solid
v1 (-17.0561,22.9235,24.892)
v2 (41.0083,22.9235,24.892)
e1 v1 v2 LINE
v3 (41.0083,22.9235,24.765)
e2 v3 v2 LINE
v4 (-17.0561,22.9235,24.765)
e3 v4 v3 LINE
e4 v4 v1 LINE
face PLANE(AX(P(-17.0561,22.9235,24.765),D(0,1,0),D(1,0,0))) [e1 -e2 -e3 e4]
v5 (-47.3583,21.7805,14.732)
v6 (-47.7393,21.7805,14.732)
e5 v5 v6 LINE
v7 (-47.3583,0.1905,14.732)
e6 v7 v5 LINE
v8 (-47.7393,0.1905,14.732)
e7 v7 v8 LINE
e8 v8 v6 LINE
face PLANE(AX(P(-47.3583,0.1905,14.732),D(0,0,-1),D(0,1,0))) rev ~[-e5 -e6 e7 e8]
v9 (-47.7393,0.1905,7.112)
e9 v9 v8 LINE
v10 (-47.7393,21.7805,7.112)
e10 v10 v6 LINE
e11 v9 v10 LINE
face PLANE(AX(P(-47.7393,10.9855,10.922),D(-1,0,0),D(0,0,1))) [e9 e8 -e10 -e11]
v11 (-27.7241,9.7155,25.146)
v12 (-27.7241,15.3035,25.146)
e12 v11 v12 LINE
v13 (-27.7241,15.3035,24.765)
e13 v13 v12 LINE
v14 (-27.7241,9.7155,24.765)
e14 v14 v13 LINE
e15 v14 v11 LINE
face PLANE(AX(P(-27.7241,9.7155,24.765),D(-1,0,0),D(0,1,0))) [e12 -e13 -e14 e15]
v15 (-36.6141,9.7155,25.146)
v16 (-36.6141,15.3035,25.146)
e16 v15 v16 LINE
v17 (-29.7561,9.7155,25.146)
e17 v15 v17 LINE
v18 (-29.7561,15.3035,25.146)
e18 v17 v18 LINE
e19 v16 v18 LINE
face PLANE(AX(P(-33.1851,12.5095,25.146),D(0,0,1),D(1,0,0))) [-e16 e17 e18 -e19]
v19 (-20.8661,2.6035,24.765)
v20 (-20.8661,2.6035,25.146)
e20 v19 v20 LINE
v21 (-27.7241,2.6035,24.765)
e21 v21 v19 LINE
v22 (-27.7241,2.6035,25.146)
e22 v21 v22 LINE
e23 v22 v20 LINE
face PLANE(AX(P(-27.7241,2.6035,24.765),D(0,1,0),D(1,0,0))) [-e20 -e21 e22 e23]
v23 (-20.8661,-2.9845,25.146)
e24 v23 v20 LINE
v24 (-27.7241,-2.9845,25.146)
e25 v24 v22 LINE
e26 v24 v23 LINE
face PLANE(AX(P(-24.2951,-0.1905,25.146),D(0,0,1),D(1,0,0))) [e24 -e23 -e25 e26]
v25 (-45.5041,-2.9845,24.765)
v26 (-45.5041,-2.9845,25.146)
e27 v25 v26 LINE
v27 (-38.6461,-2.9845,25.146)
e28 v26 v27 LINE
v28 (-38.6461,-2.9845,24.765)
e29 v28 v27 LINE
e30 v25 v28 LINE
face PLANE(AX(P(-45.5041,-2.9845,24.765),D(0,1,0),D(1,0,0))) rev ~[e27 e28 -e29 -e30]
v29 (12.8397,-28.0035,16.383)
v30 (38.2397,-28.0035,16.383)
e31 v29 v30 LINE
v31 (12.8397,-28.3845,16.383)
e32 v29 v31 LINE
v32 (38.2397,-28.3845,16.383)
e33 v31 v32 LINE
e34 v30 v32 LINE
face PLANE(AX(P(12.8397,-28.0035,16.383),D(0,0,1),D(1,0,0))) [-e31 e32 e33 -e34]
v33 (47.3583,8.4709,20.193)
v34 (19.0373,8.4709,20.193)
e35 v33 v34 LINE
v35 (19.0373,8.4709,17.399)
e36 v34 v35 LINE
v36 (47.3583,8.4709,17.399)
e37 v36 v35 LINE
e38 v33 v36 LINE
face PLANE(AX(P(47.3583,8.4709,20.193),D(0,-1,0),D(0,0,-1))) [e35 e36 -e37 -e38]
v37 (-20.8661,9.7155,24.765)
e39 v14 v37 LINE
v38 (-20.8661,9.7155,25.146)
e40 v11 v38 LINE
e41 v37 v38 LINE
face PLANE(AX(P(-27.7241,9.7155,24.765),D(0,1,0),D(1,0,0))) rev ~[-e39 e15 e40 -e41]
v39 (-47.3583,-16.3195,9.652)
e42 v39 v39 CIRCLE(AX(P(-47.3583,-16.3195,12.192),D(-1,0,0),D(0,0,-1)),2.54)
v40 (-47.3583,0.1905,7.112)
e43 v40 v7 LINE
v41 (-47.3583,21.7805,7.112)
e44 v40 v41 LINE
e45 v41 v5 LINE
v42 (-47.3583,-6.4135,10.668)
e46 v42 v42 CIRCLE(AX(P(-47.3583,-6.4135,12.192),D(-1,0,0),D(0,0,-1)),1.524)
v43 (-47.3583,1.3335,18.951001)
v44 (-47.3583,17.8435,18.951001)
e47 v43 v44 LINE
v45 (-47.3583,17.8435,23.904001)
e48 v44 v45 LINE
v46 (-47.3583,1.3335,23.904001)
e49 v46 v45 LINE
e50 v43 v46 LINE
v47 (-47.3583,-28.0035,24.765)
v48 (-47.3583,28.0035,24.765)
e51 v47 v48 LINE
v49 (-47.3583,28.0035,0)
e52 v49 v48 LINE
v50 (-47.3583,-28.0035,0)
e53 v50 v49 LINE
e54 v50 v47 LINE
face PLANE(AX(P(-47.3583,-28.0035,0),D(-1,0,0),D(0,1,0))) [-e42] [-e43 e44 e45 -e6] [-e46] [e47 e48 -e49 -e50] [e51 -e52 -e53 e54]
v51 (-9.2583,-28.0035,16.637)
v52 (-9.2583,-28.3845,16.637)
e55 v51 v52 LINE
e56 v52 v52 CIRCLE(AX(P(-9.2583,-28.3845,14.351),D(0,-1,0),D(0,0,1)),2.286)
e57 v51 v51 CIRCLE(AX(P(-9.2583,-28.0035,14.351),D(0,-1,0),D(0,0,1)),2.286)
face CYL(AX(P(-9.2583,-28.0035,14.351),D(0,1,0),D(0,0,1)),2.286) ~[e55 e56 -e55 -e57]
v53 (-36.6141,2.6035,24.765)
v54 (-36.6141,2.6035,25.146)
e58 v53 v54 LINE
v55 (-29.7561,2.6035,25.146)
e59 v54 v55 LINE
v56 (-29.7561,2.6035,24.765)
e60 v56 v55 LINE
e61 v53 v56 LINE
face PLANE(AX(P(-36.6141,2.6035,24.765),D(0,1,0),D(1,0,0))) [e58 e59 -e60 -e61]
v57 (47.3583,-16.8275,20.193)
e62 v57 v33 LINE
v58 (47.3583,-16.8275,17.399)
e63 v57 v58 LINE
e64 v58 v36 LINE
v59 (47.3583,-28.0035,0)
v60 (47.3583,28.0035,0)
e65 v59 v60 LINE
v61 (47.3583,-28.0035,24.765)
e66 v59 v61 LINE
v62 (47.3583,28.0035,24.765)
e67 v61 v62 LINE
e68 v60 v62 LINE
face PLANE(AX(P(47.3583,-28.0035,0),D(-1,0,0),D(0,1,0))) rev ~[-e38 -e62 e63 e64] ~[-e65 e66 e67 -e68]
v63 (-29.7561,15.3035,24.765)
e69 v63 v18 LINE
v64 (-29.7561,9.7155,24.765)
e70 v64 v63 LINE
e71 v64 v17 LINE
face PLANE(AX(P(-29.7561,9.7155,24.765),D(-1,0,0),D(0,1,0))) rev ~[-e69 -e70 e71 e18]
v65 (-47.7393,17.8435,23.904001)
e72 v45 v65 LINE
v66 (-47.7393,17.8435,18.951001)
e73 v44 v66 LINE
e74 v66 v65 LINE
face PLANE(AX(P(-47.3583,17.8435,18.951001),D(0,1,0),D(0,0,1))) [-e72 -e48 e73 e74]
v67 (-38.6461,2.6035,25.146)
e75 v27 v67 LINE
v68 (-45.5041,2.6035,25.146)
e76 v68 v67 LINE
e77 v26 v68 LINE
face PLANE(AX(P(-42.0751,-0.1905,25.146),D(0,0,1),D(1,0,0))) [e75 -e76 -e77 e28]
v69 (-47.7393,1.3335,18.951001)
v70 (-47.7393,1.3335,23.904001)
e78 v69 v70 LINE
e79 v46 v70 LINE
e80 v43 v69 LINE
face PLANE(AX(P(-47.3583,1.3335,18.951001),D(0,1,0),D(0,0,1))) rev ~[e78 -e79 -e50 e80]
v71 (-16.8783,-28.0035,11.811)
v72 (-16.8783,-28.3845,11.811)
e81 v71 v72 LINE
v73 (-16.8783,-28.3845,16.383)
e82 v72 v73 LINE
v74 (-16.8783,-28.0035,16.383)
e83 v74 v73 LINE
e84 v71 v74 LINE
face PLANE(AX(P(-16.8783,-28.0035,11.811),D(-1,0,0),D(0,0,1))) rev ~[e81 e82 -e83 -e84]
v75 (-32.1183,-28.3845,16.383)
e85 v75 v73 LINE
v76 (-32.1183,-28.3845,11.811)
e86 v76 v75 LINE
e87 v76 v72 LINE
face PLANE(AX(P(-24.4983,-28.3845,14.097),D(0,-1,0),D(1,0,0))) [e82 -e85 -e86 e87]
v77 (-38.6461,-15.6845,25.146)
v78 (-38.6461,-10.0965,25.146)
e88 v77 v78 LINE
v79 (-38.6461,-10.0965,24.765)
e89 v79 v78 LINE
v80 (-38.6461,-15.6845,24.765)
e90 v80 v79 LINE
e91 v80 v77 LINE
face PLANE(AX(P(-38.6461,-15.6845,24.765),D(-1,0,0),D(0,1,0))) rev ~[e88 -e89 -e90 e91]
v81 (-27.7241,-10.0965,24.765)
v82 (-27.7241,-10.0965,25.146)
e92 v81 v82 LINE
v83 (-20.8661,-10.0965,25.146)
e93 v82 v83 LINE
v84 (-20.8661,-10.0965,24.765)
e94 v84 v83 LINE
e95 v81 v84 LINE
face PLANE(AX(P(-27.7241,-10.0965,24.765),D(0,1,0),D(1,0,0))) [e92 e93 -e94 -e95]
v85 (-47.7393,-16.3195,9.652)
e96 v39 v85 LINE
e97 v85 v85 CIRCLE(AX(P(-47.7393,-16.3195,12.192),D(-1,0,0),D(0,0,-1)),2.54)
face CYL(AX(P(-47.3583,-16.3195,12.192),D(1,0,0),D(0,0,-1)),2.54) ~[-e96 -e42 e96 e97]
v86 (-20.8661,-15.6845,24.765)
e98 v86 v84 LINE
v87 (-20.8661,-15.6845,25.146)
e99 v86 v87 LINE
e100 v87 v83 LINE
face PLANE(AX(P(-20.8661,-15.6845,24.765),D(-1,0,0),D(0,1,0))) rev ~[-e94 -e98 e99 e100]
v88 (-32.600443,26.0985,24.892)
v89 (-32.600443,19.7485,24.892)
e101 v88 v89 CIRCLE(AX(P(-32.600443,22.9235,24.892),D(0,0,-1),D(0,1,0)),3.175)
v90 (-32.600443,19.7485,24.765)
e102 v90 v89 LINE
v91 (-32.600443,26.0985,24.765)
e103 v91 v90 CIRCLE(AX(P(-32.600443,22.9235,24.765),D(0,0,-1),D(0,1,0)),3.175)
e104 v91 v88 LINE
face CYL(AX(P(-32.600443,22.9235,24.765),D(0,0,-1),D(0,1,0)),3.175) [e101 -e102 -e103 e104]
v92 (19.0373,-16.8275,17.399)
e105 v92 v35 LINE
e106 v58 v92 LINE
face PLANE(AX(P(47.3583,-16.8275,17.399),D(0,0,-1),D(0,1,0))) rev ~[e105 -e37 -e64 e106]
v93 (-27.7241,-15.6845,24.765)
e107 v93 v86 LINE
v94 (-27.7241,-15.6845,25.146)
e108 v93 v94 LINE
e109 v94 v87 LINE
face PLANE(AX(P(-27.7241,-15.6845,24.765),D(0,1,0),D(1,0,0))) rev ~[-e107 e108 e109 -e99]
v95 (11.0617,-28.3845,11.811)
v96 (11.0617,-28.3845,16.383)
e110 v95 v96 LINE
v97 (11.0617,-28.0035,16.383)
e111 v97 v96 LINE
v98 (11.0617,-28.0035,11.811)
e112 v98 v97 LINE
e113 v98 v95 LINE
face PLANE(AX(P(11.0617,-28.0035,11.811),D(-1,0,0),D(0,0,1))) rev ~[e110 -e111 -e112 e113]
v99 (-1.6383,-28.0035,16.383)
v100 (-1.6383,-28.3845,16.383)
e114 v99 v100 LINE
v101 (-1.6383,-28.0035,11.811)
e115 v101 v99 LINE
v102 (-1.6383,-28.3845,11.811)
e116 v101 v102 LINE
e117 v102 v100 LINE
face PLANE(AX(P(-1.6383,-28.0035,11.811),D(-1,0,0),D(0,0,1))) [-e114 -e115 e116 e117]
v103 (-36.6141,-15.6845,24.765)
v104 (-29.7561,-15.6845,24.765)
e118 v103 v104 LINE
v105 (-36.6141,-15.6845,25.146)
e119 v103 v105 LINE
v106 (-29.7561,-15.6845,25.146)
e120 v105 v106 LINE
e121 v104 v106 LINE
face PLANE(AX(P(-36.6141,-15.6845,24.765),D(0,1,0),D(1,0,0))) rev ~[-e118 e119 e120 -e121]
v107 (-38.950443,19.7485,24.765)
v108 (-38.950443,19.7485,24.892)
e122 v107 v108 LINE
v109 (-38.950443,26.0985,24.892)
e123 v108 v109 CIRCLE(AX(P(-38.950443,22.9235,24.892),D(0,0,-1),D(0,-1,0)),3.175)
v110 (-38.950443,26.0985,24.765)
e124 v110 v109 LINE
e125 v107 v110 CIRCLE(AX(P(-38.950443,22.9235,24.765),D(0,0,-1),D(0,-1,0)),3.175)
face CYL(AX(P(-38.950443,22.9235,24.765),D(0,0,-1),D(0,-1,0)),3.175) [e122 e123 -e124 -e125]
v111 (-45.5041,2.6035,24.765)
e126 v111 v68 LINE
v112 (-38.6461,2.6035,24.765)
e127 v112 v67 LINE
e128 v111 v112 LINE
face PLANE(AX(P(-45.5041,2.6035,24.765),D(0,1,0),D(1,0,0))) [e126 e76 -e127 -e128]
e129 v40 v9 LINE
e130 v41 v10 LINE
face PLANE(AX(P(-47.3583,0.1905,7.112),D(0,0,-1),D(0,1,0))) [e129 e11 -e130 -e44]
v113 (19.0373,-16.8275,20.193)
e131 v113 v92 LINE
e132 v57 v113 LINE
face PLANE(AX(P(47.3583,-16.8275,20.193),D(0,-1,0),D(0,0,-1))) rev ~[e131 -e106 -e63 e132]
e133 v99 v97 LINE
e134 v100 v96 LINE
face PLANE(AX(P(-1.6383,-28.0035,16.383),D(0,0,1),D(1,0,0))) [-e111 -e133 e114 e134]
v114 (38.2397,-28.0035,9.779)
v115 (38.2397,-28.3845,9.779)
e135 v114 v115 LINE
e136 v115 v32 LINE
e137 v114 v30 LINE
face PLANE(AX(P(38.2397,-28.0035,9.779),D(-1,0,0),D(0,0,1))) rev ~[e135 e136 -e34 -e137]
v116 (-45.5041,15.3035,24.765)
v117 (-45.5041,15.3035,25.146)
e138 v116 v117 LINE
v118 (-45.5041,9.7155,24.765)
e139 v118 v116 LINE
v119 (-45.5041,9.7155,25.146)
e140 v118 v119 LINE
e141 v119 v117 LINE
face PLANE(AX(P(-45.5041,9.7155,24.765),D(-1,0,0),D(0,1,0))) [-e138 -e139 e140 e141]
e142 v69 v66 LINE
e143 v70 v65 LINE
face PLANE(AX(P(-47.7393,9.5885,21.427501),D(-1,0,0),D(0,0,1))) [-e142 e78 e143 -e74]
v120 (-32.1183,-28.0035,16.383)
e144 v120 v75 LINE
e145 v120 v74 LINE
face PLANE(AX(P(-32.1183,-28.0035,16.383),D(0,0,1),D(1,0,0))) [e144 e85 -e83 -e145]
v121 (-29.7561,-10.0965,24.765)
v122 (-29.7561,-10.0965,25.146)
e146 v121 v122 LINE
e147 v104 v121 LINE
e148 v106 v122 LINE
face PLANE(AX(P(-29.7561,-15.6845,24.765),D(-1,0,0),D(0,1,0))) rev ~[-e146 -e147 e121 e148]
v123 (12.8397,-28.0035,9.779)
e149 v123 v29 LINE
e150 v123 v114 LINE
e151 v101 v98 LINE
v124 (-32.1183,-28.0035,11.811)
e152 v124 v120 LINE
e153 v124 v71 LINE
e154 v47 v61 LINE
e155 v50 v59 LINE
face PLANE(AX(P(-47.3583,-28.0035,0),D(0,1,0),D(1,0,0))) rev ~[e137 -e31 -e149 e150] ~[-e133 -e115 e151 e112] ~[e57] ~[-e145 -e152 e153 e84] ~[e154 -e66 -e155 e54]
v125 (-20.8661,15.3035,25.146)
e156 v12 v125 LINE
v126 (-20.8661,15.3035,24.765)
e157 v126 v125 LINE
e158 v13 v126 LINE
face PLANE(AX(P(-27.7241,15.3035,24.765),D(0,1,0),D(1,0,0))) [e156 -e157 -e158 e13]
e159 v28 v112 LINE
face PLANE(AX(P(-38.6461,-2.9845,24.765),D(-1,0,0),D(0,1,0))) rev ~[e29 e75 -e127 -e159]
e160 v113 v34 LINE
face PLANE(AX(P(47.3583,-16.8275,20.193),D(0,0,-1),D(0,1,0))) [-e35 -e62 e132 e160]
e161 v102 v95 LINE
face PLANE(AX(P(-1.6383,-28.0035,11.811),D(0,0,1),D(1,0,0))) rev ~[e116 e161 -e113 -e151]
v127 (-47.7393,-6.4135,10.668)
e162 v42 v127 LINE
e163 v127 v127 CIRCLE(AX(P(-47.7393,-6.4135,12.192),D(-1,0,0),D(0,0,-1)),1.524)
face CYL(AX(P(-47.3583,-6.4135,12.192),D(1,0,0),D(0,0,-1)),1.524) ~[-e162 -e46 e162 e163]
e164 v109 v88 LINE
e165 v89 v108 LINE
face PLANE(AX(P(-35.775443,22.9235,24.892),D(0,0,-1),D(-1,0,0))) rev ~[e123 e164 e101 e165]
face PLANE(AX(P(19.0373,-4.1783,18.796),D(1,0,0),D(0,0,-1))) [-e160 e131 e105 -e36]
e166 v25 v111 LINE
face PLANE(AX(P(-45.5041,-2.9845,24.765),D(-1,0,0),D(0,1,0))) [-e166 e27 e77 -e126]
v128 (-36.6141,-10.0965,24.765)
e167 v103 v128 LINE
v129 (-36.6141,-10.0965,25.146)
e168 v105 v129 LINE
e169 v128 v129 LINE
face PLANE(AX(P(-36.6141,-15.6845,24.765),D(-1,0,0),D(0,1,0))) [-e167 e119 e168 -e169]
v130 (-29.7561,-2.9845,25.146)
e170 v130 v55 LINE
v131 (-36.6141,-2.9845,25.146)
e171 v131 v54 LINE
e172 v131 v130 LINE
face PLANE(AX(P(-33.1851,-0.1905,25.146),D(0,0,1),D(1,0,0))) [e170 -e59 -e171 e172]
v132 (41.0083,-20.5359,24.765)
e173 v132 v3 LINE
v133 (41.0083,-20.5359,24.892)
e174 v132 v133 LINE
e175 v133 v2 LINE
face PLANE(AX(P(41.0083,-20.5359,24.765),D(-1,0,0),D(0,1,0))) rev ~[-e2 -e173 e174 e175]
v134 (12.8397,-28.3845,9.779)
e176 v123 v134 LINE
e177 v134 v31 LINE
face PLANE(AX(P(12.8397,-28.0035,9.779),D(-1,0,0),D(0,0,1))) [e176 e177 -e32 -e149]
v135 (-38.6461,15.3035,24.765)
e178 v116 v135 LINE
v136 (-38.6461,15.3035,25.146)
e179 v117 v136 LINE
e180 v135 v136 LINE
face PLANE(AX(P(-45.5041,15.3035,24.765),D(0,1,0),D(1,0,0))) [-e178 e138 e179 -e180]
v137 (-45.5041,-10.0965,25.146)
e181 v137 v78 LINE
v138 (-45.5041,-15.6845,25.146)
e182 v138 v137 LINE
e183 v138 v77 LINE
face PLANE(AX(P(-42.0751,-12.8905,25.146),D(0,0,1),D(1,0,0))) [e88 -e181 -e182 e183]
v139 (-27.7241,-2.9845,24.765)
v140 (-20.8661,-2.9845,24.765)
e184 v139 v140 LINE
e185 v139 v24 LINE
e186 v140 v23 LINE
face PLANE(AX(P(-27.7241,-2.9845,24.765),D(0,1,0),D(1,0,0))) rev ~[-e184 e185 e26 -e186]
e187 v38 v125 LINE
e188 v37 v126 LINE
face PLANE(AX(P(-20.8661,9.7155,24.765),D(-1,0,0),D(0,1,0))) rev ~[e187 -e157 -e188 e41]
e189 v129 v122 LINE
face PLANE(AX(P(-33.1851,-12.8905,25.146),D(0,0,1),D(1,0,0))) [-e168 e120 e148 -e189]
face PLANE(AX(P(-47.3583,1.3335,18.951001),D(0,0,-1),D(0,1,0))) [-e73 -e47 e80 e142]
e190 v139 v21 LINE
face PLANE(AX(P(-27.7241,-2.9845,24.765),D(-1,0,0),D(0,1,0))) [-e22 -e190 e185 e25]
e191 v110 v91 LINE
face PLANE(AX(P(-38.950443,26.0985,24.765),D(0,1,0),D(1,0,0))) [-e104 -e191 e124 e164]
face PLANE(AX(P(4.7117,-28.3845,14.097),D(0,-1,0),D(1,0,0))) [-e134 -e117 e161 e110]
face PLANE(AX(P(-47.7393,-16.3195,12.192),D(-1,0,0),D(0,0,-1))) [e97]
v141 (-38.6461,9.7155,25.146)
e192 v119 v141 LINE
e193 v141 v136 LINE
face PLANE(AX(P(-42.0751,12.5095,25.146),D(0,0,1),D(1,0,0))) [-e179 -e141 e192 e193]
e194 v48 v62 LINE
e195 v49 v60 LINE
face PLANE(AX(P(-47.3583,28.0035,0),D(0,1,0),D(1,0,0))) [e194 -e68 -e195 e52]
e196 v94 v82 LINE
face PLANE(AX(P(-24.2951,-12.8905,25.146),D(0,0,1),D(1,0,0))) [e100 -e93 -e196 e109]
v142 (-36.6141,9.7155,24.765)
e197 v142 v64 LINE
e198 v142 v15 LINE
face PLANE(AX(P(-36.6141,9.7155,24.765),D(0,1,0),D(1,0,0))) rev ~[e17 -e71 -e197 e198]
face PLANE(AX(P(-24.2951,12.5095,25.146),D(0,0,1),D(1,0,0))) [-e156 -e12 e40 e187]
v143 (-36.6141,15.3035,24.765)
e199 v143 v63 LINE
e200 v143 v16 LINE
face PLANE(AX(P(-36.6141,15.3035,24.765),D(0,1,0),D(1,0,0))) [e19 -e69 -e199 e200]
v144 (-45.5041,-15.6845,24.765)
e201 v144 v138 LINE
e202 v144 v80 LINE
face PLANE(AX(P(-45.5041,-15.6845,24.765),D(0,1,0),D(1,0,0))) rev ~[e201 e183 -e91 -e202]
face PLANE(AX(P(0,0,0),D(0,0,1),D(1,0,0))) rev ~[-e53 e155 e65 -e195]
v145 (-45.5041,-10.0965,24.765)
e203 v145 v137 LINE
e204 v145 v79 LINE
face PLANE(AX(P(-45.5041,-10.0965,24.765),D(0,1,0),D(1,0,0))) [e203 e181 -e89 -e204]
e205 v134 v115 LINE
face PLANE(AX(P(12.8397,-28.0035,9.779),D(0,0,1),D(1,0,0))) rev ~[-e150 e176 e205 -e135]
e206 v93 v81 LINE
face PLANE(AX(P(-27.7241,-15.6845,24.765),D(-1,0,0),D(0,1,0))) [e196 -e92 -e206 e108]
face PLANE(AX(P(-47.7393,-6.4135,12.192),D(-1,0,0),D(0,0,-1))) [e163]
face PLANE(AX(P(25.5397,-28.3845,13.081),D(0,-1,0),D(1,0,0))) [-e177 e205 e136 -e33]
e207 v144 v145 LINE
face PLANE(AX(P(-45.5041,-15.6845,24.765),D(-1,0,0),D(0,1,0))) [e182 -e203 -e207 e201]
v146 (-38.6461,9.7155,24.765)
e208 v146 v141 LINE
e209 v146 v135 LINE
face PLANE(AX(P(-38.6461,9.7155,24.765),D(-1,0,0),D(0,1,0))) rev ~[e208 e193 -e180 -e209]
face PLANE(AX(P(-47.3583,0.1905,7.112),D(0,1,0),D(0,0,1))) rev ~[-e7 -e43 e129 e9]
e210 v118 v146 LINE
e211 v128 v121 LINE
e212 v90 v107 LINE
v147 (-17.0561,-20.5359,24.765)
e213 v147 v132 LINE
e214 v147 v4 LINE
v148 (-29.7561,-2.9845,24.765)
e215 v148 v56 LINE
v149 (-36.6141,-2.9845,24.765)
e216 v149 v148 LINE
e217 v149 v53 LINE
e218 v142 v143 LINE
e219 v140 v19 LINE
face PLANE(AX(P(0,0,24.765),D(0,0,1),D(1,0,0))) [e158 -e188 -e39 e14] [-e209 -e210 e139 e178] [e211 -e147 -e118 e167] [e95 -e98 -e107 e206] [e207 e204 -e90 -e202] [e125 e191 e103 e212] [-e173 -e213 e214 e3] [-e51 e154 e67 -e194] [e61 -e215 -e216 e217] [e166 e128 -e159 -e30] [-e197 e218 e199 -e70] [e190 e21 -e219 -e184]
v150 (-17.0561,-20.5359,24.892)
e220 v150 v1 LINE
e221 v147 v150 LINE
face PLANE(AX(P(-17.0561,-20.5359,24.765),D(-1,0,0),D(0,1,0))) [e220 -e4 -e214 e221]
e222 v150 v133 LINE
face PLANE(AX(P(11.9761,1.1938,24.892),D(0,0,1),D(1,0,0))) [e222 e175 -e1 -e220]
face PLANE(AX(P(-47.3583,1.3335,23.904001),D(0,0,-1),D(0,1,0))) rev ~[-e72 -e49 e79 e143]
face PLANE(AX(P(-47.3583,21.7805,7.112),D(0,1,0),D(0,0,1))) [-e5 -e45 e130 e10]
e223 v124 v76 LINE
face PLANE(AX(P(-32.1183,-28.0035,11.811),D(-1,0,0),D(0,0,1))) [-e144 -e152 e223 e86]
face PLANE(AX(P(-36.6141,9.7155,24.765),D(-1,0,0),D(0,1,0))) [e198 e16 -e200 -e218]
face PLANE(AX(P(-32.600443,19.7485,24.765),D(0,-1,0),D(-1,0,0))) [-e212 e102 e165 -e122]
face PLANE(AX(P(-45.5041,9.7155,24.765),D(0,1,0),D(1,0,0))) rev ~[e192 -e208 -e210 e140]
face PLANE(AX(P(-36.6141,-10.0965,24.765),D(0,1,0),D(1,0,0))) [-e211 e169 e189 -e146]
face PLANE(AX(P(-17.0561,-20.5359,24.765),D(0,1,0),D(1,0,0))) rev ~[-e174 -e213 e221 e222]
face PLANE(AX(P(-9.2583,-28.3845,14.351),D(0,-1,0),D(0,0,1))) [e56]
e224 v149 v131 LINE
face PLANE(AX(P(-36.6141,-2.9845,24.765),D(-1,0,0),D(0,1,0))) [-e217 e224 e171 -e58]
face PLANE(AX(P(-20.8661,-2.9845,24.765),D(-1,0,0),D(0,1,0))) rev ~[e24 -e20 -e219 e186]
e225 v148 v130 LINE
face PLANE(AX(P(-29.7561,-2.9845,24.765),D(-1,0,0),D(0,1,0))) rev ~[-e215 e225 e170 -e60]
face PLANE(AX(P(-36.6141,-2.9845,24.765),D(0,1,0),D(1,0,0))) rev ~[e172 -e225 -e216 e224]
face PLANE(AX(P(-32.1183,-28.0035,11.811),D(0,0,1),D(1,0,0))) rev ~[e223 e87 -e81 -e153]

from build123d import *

# Parameters (mm, degrees)
SKETCH1_W                 = 94.7166
SKETCH1_H                 = 56.007
EXTRUDE1_DEPTH            = 24.765
SKETCH2_W                 = 58.0644
SKETCH2_H                 = 43.4594
EXTRUDE2_DEPTH            = 0.127
SKETCH3_W                 = 6.858
SKETCH3_H                 = 5.588
EXTRUDE3_DEPTH            = 0.381
LPATTERN1_COUNT           = 3
LPATTERN1_PITCH           = 8.89
LPATTERN2_COUNT           = 3
LPATTERN2_PITCH           = 12.7
LPATTERN2_COPY_1_SKETCH_W = 6.858
LPATTERN2_COPY_1_SKETCH_H = 5.588
LPATTERN2_COPY_1_DEPTH    = 0.381
LPATTERN2_COPY_2_SKETCH_W = 6.858
LPATTERN2_COPY_2_SKETCH_H = 5.588
LPATTERN2_COPY_2_DEPTH    = 0.381
LPATTERN2_COPY_3_SKETCH_W = 6.858
LPATTERN2_COPY_3_SKETCH_H = 5.588
LPATTERN2_COPY_3_DEPTH    = 0.381
LPATTERN2_COPY_4_SKETCH_W = 6.858
LPATTERN2_COPY_4_SKETCH_H = 5.588
LPATTERN2_COPY_4_DEPTH    = 0.381
SKETCH4_R                 = 1.524
SKETCH4_R_2               = 2.54
SKETCH4_W                 = 4.953
SKETCH4_H                 = 16.51
SKETCH4_W_2               = 7.62
SKETCH4_H_2               = 21.59
EXTRUDE4_DEPTH            = 0.381
SKETCH5_R                 = 2.286
SKETCH5_W                 = 15.24
SKETCH5_H                 = 4.572
SKETCH5_W_2               = 12.7
SKETCH5_W_3               = 25.4
SKETCH5_H_2               = 6.604
EXTRUDE5_DEPTH            = 0.381
SKETCH6_W                 = 2.794
SKETCH6_H                 = 25.2984
EXTRUDE6_DEPTH            = 28.321


with BuildPart() as part:
    # Sketch1 → Extrude1 (new body)
    with BuildSketch(Plane.XY):
        Rectangle(SKETCH1_W, SKETCH1_H)
    extrude(amount=EXTRUDE1_DEPTH)

    # Sketch2 → Extrude2 (add)
    with BuildSketch(Plane.XY.offset(24.765)):
        with Locations((11.9761, 1.1938)):
            Rectangle(SKETCH2_W, SKETCH2_H)
        with BuildLine():
            Line((-38.950442947, 26.0985), (-32.600442947, 26.0985))
            ThreePointArc((-32.600442947, 26.0985), (-29.425442947, 22.9235), (-32.600442947, 19.7485))
            Line((-32.600442947, 19.7485), (-38.950442947, 19.7485))
            ThreePointArc((-38.950442947, 19.7485), (-42.125442947, 22.9235), (-38.950442947, 26.0985))
        make_face()
    extrude(amount=EXTRUDE2_DEPTH)

    # Sketch3 → Extrude3 (add)
    with BuildSketch(Plane.XY.offset(24.765)):
        with Locations((-24.2951, 12.5095)):
            Rectangle(SKETCH3_W, SKETCH3_H)
    extrude3 = extrude(amount=EXTRUDE3_DEPTH)

    # LPattern1: Extrude3 ×3
    with Locations(*[(-i * LPATTERN1_PITCH, 0, 0) for i in range(1, LPATTERN1_COUNT)]):
        add(extrude3)

    # LPattern2: Extrude3 ×3
    with Locations(*[(0, -i * LPATTERN2_PITCH, 0) for i in range(1, LPATTERN2_COUNT)]):
        add(extrude3)

    # LPattern2 copy 1 sketch → LPattern2 copy 1 (add)
    with BuildSketch(Plane(origin=(-8.89, -12.7, 24.765), x_dir=(1, 0, 0), z_dir=(0, 0, 1))):
        with Locations((-24.2951, 12.5095)):
            Rectangle(LPATTERN2_COPY_1_SKETCH_W, LPATTERN2_COPY_1_SKETCH_H)
    extrude(amount=LPATTERN2_COPY_1_DEPTH)

    # LPattern2 copy 2 sketch → LPattern2 copy 2 (add)
    with BuildSketch(Plane(origin=(-8.89, -25.4, 24.765), x_dir=(1, 0, 0), z_dir=(0, 0, 1))):
        with Locations((-24.2951, 12.5095)):
            Rectangle(LPATTERN2_COPY_2_SKETCH_W, LPATTERN2_COPY_2_SKETCH_H)
    extrude(amount=LPATTERN2_COPY_2_DEPTH)

    # LPattern2 copy 3 sketch → LPattern2 copy 3 (add)
    with BuildSketch(Plane(origin=(-17.78, -12.7, 24.765), x_dir=(1, 0, 0), z_dir=(0, 0, 1))):
        with Locations((-24.2951, 12.5095)):
            Rectangle(LPATTERN2_COPY_3_SKETCH_W, LPATTERN2_COPY_3_SKETCH_H)
    extrude(amount=LPATTERN2_COPY_3_DEPTH)

    # LPattern2 copy 4 sketch → LPattern2 copy 4 (add)
    with BuildSketch(Plane(origin=(-17.78, -25.4, 24.765), x_dir=(1, 0, 0), z_dir=(0, 0, 1))):
        with Locations((-24.2951, 12.5095)):
            Rectangle(LPATTERN2_COPY_4_SKETCH_W, LPATTERN2_COPY_4_SKETCH_H)
    extrude(amount=LPATTERN2_COPY_4_DEPTH)

    # Sketch4 → Extrude4 (add)
    with BuildSketch(Plane.ZY.offset(47.3583)):
        with Locations(Location((12.192, -6.4135, 0), (0, 0, 180))):
            Circle(SKETCH4_R)
        with Locations(Location((12.192, -16.3195, 0), (0, 0, 180))):
            Circle(SKETCH4_R_2)
        with Locations((21.427500813, 9.5885)):
            Rectangle(SKETCH4_W, SKETCH4_H)
        with Locations((10.922, 10.9855)):
            Rectangle(SKETCH4_W_2, SKETCH4_H_2)
    extrude(amount=EXTRUDE4_DEPTH)

    # Sketch5 → Extrude5 (add)
    with BuildSketch(Plane.XZ.offset(28.0035)):
        with Locations(Location((-9.2583, 14.351, 0), (0, 0, 90))):
            Circle(SKETCH5_R)
        with Locations((-24.4983, 14.097)):
            Rectangle(SKETCH5_W, SKETCH5_H)
        with Locations((4.7117, 14.097)):
            Rectangle(SKETCH5_W_2, SKETCH5_H)
        with Locations((25.5397, 13.081)):
            Rectangle(SKETCH5_W_3, SKETCH5_H_2)
    extrude(amount=EXTRUDE5_DEPTH)

    # Sketch6 → Extrude6 (cut)
    with BuildSketch(Plane(origin=(47.3583, 0, 0), x_dir=(0, 0, -1), z_dir=(1, 0, 0))):
        with Locations((-18.796, -4.1783)):
            Rectangle(SKETCH6_W, SKETCH6_H)
    extrude(amount=-EXTRUDE6_DEPTH, mode=Mode.SUBTRACT)


solid = part.part
